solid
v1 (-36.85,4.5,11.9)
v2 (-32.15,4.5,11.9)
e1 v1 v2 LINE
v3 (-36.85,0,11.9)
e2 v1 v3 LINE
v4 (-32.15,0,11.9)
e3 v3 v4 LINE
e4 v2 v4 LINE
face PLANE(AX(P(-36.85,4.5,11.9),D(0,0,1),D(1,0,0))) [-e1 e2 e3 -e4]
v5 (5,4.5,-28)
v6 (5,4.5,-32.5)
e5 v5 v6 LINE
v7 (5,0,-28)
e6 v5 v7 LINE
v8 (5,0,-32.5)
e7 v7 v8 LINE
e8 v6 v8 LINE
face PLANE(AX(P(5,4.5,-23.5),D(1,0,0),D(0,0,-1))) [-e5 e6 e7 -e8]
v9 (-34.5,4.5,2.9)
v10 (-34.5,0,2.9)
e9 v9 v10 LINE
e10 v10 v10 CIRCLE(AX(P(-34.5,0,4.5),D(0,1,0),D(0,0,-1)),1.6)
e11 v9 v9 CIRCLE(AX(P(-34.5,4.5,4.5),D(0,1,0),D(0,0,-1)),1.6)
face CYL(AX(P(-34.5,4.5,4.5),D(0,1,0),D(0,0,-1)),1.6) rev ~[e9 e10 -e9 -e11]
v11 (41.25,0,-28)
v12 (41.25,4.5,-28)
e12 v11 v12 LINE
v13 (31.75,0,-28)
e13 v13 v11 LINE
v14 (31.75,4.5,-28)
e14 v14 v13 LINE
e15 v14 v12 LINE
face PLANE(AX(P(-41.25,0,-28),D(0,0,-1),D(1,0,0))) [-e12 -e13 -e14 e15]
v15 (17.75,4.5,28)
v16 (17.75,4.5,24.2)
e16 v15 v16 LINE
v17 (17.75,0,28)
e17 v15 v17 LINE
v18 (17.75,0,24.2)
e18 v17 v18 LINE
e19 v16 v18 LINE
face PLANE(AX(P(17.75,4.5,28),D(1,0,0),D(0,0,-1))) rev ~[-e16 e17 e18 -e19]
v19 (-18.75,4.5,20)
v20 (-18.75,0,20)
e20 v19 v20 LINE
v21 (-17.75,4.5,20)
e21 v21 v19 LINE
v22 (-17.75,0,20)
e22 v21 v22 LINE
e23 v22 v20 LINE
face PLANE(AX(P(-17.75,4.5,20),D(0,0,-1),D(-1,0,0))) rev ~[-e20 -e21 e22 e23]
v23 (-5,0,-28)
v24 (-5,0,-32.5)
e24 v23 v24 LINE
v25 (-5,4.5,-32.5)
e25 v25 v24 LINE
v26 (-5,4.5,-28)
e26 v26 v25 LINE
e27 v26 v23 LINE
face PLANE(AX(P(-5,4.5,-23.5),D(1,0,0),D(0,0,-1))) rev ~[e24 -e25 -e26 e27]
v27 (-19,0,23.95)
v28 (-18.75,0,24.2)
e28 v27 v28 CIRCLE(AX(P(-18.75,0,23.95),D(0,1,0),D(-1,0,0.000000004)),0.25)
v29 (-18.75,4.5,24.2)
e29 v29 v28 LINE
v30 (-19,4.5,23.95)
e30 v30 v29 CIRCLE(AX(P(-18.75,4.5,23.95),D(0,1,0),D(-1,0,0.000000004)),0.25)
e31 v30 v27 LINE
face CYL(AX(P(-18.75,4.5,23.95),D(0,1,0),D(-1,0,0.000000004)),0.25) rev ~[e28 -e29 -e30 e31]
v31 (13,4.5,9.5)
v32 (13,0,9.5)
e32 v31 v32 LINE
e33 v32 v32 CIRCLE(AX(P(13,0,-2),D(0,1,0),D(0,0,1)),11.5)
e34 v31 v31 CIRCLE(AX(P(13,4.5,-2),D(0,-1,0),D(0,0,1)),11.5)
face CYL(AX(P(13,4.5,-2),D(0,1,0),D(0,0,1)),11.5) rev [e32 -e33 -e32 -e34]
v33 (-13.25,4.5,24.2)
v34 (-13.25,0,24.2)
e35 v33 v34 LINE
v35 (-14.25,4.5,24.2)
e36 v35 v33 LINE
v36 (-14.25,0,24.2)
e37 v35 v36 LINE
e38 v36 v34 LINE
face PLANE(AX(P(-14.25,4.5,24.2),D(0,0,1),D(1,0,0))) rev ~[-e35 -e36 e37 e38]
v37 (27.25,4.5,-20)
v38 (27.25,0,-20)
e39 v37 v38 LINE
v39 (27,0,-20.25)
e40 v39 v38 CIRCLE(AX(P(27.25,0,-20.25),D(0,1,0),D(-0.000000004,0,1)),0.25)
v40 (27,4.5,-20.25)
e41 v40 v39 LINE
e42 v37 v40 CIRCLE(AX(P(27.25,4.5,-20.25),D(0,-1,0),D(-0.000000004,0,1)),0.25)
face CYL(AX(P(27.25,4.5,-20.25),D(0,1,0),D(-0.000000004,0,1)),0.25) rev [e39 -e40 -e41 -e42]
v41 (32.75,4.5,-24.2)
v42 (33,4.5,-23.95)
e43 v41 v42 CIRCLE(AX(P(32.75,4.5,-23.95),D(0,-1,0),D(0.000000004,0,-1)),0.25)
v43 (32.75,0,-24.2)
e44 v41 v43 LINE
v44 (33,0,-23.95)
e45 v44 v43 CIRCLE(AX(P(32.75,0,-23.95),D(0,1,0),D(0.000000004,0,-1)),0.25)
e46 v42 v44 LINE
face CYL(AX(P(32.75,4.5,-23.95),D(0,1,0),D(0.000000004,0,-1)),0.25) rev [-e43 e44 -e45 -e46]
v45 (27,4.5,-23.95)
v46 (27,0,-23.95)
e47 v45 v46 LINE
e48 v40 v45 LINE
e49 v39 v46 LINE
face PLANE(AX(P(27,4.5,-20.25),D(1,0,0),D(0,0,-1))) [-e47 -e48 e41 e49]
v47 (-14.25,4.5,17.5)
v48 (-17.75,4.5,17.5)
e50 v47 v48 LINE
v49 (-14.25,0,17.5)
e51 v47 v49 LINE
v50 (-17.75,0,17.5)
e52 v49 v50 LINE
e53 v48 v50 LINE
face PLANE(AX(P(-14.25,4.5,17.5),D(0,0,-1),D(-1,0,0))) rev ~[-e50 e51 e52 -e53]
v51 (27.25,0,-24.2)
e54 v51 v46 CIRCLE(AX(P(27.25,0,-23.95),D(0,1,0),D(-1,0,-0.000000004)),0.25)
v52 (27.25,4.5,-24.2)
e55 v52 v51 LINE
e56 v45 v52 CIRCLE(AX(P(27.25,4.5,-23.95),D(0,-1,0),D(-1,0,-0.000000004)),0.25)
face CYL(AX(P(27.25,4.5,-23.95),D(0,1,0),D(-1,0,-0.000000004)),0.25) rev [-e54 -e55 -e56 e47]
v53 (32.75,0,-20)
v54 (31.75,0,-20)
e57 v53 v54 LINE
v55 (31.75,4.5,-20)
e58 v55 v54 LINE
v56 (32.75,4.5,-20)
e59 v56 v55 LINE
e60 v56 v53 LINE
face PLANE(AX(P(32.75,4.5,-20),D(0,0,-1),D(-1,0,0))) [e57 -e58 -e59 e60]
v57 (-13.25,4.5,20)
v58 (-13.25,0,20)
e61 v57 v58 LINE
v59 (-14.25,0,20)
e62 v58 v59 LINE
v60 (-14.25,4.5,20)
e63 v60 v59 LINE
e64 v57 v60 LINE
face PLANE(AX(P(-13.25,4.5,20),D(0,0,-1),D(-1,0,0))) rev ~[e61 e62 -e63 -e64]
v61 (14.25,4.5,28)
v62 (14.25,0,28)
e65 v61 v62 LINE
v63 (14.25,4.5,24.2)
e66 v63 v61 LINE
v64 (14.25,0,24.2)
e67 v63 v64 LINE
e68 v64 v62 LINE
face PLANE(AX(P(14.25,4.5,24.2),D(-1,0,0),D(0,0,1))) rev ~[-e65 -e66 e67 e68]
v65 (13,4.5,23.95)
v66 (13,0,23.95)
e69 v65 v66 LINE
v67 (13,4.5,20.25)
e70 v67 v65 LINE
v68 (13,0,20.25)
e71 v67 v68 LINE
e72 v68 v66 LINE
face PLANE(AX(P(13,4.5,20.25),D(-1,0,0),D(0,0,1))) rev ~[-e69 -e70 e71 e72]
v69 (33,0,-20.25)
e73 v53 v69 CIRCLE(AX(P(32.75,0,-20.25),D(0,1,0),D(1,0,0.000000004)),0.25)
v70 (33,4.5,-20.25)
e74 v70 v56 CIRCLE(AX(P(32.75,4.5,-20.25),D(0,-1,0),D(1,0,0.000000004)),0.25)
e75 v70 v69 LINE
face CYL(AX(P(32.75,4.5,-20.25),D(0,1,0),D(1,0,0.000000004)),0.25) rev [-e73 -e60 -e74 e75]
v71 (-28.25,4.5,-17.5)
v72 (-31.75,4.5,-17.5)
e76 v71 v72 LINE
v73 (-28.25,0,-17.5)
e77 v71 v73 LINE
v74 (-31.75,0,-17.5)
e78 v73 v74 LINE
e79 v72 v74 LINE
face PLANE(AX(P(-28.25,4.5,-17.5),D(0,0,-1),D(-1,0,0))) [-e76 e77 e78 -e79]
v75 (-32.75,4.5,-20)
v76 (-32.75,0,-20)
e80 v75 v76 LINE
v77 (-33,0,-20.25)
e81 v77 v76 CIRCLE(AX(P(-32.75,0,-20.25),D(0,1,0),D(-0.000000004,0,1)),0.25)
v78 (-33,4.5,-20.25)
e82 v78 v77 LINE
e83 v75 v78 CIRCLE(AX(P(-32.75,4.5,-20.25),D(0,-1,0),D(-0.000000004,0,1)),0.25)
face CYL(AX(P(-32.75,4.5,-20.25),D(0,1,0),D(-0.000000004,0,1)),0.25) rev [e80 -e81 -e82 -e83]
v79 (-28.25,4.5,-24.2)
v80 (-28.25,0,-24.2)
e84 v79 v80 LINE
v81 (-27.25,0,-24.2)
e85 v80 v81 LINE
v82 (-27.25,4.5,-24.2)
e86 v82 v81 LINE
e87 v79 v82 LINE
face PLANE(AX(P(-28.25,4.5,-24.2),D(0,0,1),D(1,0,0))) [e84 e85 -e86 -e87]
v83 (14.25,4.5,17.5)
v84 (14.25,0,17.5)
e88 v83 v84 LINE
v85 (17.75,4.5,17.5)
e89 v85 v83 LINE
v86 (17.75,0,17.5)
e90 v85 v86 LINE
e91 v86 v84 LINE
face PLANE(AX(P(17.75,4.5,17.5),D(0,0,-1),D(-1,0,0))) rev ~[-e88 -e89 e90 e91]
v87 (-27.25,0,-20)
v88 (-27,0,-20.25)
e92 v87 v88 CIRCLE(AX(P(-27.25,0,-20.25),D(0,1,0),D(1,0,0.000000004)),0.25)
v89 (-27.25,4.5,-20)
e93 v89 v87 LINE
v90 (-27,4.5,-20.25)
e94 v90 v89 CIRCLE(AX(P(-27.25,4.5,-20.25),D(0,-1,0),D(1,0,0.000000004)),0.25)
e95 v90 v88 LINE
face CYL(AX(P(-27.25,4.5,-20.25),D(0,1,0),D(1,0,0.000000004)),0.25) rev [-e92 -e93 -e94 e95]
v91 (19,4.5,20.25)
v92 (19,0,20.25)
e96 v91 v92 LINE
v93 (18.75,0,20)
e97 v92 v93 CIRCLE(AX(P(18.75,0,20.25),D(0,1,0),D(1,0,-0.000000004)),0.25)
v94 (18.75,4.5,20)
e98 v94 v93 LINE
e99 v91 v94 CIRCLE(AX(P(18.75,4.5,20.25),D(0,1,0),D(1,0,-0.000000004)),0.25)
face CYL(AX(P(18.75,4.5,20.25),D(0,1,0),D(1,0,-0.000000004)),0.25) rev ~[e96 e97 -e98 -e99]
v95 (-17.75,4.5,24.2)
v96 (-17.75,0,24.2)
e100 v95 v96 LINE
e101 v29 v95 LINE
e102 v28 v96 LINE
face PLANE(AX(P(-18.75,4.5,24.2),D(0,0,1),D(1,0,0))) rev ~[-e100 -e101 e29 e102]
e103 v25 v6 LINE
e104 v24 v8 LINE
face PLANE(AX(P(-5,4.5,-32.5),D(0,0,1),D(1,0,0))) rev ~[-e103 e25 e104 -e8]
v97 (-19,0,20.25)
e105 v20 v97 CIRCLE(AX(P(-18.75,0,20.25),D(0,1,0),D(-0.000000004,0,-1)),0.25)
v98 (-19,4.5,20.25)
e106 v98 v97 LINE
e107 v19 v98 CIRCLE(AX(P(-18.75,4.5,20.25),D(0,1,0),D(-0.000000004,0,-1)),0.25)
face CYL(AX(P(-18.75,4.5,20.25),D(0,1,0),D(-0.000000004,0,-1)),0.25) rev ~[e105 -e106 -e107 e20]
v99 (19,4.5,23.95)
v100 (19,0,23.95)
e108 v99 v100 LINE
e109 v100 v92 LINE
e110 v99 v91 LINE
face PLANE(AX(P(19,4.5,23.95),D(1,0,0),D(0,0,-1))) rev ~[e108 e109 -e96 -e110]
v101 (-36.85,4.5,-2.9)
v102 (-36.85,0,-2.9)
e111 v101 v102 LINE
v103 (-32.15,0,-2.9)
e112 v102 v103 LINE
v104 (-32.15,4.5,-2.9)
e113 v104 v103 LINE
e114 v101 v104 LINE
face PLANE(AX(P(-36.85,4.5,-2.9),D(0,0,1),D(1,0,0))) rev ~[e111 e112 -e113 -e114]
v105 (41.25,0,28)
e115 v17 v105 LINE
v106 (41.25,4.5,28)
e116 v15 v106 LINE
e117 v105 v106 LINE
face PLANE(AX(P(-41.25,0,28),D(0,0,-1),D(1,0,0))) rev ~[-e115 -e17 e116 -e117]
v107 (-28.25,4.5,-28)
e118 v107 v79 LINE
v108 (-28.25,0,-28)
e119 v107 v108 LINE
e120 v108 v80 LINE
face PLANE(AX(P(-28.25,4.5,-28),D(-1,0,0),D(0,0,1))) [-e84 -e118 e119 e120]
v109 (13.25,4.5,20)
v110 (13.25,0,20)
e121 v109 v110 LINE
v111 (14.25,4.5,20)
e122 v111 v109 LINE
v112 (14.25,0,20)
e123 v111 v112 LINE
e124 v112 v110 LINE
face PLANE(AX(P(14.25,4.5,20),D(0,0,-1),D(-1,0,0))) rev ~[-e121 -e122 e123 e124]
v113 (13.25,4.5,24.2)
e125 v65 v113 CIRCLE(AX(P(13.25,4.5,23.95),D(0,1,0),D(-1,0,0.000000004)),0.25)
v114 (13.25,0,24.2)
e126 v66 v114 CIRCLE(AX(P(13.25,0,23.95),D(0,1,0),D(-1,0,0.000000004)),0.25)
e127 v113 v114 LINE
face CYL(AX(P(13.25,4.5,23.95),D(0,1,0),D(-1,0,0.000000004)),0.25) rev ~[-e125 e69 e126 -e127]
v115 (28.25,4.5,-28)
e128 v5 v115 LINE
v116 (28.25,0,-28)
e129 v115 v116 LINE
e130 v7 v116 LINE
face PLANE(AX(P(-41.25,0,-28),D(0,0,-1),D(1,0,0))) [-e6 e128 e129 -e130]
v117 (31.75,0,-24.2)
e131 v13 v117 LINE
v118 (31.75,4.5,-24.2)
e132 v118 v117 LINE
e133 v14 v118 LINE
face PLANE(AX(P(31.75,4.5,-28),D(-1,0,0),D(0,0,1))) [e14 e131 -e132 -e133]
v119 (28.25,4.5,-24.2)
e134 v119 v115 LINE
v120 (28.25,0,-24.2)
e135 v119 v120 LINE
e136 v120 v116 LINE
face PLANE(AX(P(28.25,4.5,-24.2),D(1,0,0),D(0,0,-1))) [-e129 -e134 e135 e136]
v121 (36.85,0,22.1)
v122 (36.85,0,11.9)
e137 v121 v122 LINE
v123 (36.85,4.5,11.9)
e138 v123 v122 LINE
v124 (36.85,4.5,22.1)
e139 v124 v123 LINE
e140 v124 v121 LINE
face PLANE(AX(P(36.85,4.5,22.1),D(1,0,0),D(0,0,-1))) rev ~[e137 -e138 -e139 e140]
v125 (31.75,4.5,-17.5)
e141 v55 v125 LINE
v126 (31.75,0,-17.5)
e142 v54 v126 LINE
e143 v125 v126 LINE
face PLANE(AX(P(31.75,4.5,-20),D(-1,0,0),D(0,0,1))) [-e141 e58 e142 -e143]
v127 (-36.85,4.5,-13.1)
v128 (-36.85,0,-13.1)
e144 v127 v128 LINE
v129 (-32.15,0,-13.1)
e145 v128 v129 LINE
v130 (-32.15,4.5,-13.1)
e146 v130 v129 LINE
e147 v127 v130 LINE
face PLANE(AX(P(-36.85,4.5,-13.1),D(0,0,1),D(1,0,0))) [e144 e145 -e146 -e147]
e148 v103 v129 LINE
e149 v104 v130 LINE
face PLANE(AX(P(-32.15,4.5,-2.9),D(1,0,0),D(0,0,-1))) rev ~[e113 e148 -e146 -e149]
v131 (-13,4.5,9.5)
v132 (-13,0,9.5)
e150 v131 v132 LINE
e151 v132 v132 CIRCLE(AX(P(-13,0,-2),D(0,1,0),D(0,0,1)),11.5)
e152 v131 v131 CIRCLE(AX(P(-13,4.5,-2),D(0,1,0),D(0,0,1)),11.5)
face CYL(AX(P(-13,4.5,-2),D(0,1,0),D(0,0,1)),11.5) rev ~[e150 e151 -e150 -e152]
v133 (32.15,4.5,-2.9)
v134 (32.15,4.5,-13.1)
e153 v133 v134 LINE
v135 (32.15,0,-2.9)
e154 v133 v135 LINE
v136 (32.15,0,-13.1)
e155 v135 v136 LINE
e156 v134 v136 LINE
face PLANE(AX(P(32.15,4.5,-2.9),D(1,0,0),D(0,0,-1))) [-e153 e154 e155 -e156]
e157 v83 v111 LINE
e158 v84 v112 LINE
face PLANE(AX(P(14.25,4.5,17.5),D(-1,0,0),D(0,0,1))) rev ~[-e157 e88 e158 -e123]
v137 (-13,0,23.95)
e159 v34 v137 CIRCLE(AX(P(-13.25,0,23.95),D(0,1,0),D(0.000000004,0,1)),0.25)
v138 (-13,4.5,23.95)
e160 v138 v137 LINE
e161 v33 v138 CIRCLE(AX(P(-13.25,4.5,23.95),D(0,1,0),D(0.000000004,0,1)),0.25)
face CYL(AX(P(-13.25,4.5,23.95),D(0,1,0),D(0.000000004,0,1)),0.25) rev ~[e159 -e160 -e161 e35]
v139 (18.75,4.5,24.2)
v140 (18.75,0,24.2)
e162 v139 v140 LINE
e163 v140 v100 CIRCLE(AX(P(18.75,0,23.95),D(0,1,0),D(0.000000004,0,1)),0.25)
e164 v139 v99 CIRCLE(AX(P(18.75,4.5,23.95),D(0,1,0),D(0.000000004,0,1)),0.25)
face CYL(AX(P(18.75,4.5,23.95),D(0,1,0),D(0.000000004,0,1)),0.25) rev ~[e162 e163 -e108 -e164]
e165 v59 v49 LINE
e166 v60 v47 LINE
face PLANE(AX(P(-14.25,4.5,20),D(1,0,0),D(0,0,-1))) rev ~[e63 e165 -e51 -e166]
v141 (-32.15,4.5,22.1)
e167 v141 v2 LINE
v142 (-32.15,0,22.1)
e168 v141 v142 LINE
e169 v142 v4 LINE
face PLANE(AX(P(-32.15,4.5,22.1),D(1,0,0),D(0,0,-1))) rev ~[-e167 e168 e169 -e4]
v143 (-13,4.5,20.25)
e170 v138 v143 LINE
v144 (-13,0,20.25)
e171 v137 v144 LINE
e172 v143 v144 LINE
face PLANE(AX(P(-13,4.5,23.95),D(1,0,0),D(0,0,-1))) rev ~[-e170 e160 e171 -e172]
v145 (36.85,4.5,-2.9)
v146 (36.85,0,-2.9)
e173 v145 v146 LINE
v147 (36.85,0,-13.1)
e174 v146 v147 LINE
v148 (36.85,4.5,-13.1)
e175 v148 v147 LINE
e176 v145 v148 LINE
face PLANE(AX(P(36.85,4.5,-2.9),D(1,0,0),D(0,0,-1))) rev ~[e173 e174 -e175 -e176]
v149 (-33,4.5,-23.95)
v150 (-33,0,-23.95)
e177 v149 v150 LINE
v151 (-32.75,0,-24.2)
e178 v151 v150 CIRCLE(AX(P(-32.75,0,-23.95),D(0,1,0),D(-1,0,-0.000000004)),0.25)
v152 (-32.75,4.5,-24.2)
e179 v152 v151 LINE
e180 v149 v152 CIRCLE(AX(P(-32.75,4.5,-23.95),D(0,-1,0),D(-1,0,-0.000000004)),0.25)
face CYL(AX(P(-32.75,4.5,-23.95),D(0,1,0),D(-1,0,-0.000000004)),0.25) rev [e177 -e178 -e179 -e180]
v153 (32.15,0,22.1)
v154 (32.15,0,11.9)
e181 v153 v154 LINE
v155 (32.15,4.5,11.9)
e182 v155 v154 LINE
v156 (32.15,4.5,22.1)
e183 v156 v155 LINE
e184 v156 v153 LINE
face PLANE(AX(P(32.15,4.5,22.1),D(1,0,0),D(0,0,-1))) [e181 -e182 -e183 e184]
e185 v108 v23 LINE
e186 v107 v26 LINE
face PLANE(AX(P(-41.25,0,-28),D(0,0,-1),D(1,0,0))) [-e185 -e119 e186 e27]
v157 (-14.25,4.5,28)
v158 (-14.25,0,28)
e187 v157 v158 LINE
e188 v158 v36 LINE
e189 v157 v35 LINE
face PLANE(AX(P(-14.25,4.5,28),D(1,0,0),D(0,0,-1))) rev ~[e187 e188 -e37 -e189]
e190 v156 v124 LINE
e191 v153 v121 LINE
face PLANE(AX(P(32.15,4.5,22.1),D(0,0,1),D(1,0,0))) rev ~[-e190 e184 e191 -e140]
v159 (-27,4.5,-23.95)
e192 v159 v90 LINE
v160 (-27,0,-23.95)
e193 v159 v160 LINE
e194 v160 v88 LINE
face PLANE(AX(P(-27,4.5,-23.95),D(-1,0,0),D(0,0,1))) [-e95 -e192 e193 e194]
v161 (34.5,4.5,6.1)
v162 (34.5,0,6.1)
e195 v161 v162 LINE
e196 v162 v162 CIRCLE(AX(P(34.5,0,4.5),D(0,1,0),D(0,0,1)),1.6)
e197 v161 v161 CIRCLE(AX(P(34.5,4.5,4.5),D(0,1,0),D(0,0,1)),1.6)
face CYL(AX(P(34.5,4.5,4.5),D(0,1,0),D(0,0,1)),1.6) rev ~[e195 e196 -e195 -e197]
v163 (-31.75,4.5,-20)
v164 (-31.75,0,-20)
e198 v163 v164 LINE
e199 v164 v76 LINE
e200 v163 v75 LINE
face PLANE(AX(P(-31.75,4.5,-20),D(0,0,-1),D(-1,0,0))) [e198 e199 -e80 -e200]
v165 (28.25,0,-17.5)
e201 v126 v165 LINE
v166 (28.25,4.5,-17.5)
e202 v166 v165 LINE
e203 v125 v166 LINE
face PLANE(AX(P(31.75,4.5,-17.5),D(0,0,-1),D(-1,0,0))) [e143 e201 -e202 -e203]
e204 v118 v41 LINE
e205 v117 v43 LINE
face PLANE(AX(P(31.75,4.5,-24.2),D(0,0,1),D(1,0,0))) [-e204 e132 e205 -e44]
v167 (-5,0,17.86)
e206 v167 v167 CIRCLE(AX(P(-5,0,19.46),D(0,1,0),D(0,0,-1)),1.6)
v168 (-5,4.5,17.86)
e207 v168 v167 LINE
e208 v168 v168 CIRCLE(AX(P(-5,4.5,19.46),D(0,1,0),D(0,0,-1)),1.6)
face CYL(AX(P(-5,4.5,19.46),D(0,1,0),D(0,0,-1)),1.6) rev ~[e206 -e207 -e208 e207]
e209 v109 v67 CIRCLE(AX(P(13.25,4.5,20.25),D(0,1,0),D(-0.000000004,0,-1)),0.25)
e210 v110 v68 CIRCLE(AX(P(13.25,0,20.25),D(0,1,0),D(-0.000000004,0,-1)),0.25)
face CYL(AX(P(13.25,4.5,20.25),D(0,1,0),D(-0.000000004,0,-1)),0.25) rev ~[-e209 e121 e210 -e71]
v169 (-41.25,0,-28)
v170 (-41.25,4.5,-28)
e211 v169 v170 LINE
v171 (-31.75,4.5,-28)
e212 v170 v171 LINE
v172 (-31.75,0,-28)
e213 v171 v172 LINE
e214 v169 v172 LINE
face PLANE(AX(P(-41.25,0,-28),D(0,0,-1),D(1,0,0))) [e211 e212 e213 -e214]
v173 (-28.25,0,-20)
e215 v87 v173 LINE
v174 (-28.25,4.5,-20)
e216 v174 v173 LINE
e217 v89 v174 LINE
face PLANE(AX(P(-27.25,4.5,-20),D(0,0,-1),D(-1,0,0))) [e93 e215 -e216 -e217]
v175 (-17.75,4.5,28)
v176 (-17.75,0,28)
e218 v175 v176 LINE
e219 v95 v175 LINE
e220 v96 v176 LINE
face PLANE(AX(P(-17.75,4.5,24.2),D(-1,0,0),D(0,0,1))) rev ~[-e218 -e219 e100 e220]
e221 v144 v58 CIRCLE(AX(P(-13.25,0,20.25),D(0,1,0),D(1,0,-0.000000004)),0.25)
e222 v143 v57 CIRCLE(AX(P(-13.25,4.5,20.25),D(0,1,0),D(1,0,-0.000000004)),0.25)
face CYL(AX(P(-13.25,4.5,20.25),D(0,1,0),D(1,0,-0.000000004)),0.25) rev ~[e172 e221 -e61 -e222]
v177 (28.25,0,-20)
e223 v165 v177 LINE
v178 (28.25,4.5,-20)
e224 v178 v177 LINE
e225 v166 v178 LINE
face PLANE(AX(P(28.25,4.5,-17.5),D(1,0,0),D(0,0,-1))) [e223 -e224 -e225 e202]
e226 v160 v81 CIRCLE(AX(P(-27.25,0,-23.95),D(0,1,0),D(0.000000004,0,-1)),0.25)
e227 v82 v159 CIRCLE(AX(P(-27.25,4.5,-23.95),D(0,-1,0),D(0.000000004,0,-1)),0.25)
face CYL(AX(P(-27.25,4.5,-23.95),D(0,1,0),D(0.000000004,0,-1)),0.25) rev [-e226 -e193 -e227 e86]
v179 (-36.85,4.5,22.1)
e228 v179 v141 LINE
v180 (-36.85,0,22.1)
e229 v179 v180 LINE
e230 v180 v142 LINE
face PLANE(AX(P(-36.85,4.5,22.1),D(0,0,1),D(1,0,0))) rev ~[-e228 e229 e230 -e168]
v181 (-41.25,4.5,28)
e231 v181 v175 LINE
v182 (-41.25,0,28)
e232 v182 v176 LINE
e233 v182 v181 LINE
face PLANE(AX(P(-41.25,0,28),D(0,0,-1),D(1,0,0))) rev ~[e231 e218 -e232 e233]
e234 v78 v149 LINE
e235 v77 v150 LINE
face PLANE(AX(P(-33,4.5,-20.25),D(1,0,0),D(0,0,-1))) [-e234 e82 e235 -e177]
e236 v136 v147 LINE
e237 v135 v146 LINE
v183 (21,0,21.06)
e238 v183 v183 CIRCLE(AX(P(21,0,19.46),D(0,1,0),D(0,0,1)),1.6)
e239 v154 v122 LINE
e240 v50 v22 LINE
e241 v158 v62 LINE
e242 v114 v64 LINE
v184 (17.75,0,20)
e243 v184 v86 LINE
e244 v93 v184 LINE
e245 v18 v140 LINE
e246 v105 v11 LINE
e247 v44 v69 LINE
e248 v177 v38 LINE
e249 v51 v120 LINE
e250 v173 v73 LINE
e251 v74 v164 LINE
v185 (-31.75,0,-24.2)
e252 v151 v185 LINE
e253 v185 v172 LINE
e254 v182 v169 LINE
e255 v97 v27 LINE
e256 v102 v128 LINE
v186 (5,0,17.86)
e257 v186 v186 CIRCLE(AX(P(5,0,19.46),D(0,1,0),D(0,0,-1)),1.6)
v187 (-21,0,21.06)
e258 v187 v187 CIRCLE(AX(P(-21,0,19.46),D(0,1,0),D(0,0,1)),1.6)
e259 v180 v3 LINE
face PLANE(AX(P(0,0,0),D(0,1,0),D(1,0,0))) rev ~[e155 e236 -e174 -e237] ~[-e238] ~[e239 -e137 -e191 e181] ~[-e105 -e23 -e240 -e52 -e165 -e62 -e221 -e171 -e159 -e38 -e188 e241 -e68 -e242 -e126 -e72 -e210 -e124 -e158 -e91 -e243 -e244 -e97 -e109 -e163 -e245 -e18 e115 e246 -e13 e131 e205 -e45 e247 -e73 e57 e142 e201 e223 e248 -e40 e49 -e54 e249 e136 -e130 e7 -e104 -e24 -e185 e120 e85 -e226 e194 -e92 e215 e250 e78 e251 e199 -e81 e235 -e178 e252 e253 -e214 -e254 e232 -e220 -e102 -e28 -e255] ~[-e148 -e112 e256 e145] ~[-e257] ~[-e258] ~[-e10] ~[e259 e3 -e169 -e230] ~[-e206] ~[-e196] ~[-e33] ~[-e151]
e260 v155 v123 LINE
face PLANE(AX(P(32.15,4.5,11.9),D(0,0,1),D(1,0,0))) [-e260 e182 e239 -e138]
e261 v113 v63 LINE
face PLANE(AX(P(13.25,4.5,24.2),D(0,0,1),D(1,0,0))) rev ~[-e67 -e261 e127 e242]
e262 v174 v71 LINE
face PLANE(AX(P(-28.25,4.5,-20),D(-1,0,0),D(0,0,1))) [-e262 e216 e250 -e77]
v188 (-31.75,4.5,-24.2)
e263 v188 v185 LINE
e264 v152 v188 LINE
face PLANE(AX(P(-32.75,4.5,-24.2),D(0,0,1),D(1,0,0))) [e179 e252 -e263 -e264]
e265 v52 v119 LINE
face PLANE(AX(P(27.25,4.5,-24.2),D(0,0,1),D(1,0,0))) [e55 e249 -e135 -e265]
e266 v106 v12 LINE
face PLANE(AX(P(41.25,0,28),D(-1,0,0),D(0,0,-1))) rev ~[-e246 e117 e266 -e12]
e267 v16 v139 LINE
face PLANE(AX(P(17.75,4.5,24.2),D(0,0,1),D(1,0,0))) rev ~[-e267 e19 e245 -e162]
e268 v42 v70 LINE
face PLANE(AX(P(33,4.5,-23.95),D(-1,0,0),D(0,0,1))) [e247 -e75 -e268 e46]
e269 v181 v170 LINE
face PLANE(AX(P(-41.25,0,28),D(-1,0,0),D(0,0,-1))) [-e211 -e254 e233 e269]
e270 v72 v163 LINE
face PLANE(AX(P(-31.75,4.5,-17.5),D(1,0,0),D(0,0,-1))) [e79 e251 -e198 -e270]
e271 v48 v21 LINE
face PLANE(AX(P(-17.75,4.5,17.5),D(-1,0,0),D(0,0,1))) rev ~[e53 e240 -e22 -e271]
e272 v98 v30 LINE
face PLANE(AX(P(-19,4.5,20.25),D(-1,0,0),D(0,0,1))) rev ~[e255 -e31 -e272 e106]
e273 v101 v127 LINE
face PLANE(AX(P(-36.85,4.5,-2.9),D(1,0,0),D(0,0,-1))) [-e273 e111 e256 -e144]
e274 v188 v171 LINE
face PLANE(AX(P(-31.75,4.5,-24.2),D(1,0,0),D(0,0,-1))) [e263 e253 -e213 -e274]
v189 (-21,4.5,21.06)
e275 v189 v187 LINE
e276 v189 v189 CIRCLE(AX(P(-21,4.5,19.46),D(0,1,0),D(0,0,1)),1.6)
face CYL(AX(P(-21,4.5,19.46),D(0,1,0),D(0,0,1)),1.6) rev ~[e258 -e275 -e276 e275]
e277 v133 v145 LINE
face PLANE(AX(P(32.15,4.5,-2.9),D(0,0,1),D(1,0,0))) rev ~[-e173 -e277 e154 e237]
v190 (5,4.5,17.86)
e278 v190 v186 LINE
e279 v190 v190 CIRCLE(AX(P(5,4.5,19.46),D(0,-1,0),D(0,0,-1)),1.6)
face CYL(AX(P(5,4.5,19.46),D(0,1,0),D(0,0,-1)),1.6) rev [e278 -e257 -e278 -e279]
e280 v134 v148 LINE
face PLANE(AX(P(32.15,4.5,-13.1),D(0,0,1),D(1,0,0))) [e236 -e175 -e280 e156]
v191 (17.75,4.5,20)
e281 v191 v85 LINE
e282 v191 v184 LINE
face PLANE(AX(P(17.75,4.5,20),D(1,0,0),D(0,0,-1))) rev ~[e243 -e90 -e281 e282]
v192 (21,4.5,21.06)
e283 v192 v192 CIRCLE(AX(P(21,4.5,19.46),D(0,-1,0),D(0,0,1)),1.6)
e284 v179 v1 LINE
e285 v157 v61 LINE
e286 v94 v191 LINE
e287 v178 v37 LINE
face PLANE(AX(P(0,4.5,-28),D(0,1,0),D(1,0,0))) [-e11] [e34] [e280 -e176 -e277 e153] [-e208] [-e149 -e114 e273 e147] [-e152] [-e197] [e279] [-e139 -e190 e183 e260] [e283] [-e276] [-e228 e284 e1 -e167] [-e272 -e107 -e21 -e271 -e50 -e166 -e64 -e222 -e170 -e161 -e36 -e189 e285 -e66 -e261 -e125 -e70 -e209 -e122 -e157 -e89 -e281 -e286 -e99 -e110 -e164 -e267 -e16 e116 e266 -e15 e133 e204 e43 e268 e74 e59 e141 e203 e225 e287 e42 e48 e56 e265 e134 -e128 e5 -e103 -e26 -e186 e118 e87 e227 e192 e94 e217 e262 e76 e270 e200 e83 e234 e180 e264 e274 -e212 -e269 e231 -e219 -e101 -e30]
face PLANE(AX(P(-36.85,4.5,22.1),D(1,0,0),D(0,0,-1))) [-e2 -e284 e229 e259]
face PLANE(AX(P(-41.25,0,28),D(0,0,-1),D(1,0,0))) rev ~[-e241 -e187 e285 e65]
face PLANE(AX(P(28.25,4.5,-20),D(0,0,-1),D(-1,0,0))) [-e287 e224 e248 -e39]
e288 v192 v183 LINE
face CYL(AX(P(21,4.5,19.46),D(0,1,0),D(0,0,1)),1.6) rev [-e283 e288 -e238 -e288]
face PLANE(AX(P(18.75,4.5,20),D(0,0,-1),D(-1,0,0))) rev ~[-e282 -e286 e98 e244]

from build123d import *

# Parameters (mm, degrees)
SKETCH1_W          = 82.5
SKETCH1_H          = 56
MAINSHAPE_DEPTH    = 4.5
SKETCH2_W          = 10
SKETCH2_H          = 9
TAB1_DEPTH         = 4.5
CUT_EXTRUDE2_DEPTH = 53.707328712
SKETCH5_R          = 1.6
SKETCH5_W          = 4.7
SKETCH5_H          = 10.2
CUT_EXTRUDE3_DEPTH = 53.707328712
SKETCH6_R          = 11.5
CUT_EXTRUDE4_DEPTH = 53.707328712
SKETCH8_R          = 1.6
CUT_EXTRUDE6_DEPTH = 53.707328712
CUT_EXTRUDE7_DEPTH = 53.707328712


with BuildPart() as part:
    # Sketch1 → MainShape (new body)
    with BuildSketch(Plane(origin=(0, 0, 0), x_dir=(1, 0, 0), z_dir=(0, 1, 0))):
        Rectangle(SKETCH1_W, SKETCH1_H)
    extrude(amount=MAINSHAPE_DEPTH)

    # Sketch2 → Tab1 (add, through all)
    with BuildSketch(Plane(origin=(0, 4.5, 0), x_dir=(1, 0, 0), z_dir=(0, 1, 0))):
        with Locations((0, 28)):
            Rectangle(SKETCH2_W, SKETCH2_H)
    extrude(amount=-TAB1_DEPTH)

    # Sketch4 → Cut-Extrude2 (cut, through all)
    with BuildSketch(Plane(origin=(0, 4.5, 0), x_dir=(1, 0, 0), z_dir=(0, 1, 0))):
        with BuildLine():
            Line((-28.25, 17.5), (-31.75, 17.5))
            Line((-31.75, 17.5), (-31.75, 20))
            Line((-31.75, 20), (-32.75, 20))
            ThreePointArc((-32.75, 20), (-32.926776695, 20.073223305), (-33, 20.25))
            Line((-33, 20.25), (-33, 23.95))
            ThreePointArc((-33, 23.95), (-32.926776695, 24.126776695), (-32.75, 24.2))
            Line((-32.75, 24.2), (-31.75, 24.2))
            Line((-31.75, 24.2), (-31.75, 28))
            Line((-31.75, 28), (-28.25, 28))
            Line((-28.25, 28), (-28.25, 24.2))
            Line((-28.25, 24.2), (-27.25, 24.2))
            ThreePointArc((-27.25, 24.2), (-27.073223305, 24.126776695), (-27, 23.95))
            Line((-27, 23.95), (-27, 20.25))
            ThreePointArc((-27, 20.25), (-27.073223305, 20.073223305), (-27.25, 20))
            Line((-27.25, 20), (-28.25, 20))
            Line((-28.25, 20), (-28.25, 17.5))
        make_face()
        with BuildLine():
            Line((28.25, 17.5), (28.25, 20))
            Line((28.25, 20), (27.25, 20))
            ThreePointArc((27.25, 20), (27.073223305, 20.073223305), (27, 20.25))
            Line((27, 20.25), (27, 23.95))
            ThreePointArc((27, 23.95), (27.073223305, 24.126776695), (27.25, 24.2))
            Line((27.25, 24.2), (28.25, 24.2))
            Line((28.25, 24.2), (28.25, 28))
            Line((28.25, 28), (31.75, 28))
            Line((31.75, 28), (31.75, 24.2))
            Line((31.75, 24.2), (32.75, 24.2))
            ThreePointArc((32.75, 24.2), (32.926776695, 24.126776695), (33, 23.95))
            Line((33, 23.95), (33, 20.25))
            ThreePointArc((33, 20.25), (32.926776695, 20.073223305), (32.75, 20))
            Line((32.75, 20), (31.75, 20))
            Line((31.75, 20), (31.75, 17.5))
            Line((31.75, 17.5), (28.25, 17.5))
        make_face()
    extrude(amount=-CUT_EXTRUDE2_DEPTH, mode=Mode.SUBTRACT)

    # Sketch5 → Cut-Extrude3 (cut, through all)
    with BuildSketch(Plane(origin=(0, 4.5, 0), x_dir=(1, 0, 0), z_dir=(0, 1, 0))):
        with Locations(Location((34.5, -4.5, 0), (0, 0, 270))):
            Circle(SKETCH5_R)
        with Locations(Location((-34.5, -4.5, 0), (0, 0, 90))):
            Circle(SKETCH5_R)
        with Locations((34.5, 8)):
            Rectangle(SKETCH5_W, SKETCH5_H)
        with Locations((-34.5, 8)):
            Rectangle(SKETCH5_W, SKETCH5_H)
        with Locations((-34.5, -17)):
            Rectangle(SKETCH5_W, SKETCH5_H)
        with Locations((34.5, -17)):
            Rectangle(SKETCH5_W, SKETCH5_H)
    extrude(amount=-CUT_EXTRUDE3_DEPTH, mode=Mode.SUBTRACT)

    # Sketch6 → Cut-Extrude4 (cut, through all)
    with BuildSketch(Plane(origin=(0, 4.5, 0), x_dir=(1, 0, 0), z_dir=(0, 1, 0))):
        with Locations(Location((-13, 2, 0), (0, 0, 270))):
            Circle(SKETCH6_R)
    cut_extrude4 = extrude(amount=-CUT_EXTRUDE4_DEPTH, mode=Mode.SUBTRACT)

    # Sketch8 → Cut-Extrude6 (cut, through all)
    with BuildSketch(Plane(origin=(0, 4.5, 0), x_dir=(1, 0, 0), z_dir=(0, 1, 0))):
        with Locations(Location((-21, -19.46, 0), (0, 0, 270))):
            Circle(SKETCH8_R)
        with Locations(Location((-5, -19.46, 0), (0, 0, 90))):
            Circle(SKETCH8_R)
    cut_extrude6 = extrude(amount=-CUT_EXTRUDE6_DEPTH, mode=Mode.SUBTRACT)

    # Sketch9 → Cut-Extrude7 (cut, through all)
    with BuildSketch(Plane(origin=(0, 4.5, 0), x_dir=(1, 0, 0), z_dir=(0, 1, 0))):
        with BuildLine():
            Line((17.75, -28), (17.75, -24.2))
            Line((17.75, -24.2), (18.75, -24.2))
            ThreePointArc((18.75, -24.2), (18.926776695, -24.126776695), (19, -23.95))
            Line((19, -23.95), (19, -20.25))
            ThreePointArc((19, -20.25), (18.926776695, -20.073223305), (18.75, -20))
            Line((18.75, -20), (17.75, -20))
            Line((17.75, -20), (17.75, -17.5))
            Line((17.75, -17.5), (14.25, -17.5))
            Line((14.25, -17.5), (14.25, -20))
            Line((14.25, -20), (13.25, -20))
            ThreePointArc((13.25, -20), (13.073223305, -20.073223305), (13, -20.25))
            Line((13, -20.25), (13, -23.95))
            ThreePointArc((13, -23.95), (13.073223305, -24.126776695), (13.25, -24.2))
            Line((13.25, -24.2), (14.25, -24.2))
            Line((14.25, -24.2), (14.25, -28))
            Line((14.25, -28), (17.75, -28))
        make_face()
        with BuildLine():
            Line((-14.25, -28), (-14.25, -24.2))
            Line((-14.25, -24.2), (-13.25, -24.2))
            ThreePointArc((-13.25, -24.2), (-13.073223305, -24.126776695), (-13, -23.95))
            Line((-13, -23.95), (-13, -20.25))
            ThreePointArc((-13, -20.25), (-13.073223305, -20.073223305), (-13.25, -20))
            Line((-13.25, -20), (-14.25, -20))
            Line((-14.25, -20), (-14.25, -17.5))
            Line((-14.25, -17.5), (-17.75, -17.5))
            Line((-17.75, -17.5), (-17.75, -20))
            Line((-17.75, -20), (-18.75, -20))
            ThreePointArc((-18.75, -20), (-18.926776695, -20.073223305), (-19, -20.25))
            Line((-19, -20.25), (-19, -23.95))
            ThreePointArc((-19, -23.95), (-18.926776695, -24.126776695), (-18.75, -24.2))
            Line((-18.75, -24.2), (-17.75, -24.2))
            Line((-17.75, -24.2), (-17.75, -28))
            Line((-17.75, -28), (-14.25, -28))
        make_face()
    extrude(amount=-CUT_EXTRUDE7_DEPTH, mode=Mode.SUBTRACT)

    # Mirror1: Cut-Extrude4, Cut-Extrude6 across plane
    add(cut_extrude4.mirror(Plane(origin=(0, 0, 0), x_dir=(0, 0, 1), z_dir=(1, 0, 0))), mode=Mode.SUBTRACT)
    add(cut_extrude6.mirror(Plane(origin=(0, 0, 0), x_dir=(0, 0, 1), z_dir=(1, 0, 0))), mode=Mode.SUBTRACT)


solid = part.part
